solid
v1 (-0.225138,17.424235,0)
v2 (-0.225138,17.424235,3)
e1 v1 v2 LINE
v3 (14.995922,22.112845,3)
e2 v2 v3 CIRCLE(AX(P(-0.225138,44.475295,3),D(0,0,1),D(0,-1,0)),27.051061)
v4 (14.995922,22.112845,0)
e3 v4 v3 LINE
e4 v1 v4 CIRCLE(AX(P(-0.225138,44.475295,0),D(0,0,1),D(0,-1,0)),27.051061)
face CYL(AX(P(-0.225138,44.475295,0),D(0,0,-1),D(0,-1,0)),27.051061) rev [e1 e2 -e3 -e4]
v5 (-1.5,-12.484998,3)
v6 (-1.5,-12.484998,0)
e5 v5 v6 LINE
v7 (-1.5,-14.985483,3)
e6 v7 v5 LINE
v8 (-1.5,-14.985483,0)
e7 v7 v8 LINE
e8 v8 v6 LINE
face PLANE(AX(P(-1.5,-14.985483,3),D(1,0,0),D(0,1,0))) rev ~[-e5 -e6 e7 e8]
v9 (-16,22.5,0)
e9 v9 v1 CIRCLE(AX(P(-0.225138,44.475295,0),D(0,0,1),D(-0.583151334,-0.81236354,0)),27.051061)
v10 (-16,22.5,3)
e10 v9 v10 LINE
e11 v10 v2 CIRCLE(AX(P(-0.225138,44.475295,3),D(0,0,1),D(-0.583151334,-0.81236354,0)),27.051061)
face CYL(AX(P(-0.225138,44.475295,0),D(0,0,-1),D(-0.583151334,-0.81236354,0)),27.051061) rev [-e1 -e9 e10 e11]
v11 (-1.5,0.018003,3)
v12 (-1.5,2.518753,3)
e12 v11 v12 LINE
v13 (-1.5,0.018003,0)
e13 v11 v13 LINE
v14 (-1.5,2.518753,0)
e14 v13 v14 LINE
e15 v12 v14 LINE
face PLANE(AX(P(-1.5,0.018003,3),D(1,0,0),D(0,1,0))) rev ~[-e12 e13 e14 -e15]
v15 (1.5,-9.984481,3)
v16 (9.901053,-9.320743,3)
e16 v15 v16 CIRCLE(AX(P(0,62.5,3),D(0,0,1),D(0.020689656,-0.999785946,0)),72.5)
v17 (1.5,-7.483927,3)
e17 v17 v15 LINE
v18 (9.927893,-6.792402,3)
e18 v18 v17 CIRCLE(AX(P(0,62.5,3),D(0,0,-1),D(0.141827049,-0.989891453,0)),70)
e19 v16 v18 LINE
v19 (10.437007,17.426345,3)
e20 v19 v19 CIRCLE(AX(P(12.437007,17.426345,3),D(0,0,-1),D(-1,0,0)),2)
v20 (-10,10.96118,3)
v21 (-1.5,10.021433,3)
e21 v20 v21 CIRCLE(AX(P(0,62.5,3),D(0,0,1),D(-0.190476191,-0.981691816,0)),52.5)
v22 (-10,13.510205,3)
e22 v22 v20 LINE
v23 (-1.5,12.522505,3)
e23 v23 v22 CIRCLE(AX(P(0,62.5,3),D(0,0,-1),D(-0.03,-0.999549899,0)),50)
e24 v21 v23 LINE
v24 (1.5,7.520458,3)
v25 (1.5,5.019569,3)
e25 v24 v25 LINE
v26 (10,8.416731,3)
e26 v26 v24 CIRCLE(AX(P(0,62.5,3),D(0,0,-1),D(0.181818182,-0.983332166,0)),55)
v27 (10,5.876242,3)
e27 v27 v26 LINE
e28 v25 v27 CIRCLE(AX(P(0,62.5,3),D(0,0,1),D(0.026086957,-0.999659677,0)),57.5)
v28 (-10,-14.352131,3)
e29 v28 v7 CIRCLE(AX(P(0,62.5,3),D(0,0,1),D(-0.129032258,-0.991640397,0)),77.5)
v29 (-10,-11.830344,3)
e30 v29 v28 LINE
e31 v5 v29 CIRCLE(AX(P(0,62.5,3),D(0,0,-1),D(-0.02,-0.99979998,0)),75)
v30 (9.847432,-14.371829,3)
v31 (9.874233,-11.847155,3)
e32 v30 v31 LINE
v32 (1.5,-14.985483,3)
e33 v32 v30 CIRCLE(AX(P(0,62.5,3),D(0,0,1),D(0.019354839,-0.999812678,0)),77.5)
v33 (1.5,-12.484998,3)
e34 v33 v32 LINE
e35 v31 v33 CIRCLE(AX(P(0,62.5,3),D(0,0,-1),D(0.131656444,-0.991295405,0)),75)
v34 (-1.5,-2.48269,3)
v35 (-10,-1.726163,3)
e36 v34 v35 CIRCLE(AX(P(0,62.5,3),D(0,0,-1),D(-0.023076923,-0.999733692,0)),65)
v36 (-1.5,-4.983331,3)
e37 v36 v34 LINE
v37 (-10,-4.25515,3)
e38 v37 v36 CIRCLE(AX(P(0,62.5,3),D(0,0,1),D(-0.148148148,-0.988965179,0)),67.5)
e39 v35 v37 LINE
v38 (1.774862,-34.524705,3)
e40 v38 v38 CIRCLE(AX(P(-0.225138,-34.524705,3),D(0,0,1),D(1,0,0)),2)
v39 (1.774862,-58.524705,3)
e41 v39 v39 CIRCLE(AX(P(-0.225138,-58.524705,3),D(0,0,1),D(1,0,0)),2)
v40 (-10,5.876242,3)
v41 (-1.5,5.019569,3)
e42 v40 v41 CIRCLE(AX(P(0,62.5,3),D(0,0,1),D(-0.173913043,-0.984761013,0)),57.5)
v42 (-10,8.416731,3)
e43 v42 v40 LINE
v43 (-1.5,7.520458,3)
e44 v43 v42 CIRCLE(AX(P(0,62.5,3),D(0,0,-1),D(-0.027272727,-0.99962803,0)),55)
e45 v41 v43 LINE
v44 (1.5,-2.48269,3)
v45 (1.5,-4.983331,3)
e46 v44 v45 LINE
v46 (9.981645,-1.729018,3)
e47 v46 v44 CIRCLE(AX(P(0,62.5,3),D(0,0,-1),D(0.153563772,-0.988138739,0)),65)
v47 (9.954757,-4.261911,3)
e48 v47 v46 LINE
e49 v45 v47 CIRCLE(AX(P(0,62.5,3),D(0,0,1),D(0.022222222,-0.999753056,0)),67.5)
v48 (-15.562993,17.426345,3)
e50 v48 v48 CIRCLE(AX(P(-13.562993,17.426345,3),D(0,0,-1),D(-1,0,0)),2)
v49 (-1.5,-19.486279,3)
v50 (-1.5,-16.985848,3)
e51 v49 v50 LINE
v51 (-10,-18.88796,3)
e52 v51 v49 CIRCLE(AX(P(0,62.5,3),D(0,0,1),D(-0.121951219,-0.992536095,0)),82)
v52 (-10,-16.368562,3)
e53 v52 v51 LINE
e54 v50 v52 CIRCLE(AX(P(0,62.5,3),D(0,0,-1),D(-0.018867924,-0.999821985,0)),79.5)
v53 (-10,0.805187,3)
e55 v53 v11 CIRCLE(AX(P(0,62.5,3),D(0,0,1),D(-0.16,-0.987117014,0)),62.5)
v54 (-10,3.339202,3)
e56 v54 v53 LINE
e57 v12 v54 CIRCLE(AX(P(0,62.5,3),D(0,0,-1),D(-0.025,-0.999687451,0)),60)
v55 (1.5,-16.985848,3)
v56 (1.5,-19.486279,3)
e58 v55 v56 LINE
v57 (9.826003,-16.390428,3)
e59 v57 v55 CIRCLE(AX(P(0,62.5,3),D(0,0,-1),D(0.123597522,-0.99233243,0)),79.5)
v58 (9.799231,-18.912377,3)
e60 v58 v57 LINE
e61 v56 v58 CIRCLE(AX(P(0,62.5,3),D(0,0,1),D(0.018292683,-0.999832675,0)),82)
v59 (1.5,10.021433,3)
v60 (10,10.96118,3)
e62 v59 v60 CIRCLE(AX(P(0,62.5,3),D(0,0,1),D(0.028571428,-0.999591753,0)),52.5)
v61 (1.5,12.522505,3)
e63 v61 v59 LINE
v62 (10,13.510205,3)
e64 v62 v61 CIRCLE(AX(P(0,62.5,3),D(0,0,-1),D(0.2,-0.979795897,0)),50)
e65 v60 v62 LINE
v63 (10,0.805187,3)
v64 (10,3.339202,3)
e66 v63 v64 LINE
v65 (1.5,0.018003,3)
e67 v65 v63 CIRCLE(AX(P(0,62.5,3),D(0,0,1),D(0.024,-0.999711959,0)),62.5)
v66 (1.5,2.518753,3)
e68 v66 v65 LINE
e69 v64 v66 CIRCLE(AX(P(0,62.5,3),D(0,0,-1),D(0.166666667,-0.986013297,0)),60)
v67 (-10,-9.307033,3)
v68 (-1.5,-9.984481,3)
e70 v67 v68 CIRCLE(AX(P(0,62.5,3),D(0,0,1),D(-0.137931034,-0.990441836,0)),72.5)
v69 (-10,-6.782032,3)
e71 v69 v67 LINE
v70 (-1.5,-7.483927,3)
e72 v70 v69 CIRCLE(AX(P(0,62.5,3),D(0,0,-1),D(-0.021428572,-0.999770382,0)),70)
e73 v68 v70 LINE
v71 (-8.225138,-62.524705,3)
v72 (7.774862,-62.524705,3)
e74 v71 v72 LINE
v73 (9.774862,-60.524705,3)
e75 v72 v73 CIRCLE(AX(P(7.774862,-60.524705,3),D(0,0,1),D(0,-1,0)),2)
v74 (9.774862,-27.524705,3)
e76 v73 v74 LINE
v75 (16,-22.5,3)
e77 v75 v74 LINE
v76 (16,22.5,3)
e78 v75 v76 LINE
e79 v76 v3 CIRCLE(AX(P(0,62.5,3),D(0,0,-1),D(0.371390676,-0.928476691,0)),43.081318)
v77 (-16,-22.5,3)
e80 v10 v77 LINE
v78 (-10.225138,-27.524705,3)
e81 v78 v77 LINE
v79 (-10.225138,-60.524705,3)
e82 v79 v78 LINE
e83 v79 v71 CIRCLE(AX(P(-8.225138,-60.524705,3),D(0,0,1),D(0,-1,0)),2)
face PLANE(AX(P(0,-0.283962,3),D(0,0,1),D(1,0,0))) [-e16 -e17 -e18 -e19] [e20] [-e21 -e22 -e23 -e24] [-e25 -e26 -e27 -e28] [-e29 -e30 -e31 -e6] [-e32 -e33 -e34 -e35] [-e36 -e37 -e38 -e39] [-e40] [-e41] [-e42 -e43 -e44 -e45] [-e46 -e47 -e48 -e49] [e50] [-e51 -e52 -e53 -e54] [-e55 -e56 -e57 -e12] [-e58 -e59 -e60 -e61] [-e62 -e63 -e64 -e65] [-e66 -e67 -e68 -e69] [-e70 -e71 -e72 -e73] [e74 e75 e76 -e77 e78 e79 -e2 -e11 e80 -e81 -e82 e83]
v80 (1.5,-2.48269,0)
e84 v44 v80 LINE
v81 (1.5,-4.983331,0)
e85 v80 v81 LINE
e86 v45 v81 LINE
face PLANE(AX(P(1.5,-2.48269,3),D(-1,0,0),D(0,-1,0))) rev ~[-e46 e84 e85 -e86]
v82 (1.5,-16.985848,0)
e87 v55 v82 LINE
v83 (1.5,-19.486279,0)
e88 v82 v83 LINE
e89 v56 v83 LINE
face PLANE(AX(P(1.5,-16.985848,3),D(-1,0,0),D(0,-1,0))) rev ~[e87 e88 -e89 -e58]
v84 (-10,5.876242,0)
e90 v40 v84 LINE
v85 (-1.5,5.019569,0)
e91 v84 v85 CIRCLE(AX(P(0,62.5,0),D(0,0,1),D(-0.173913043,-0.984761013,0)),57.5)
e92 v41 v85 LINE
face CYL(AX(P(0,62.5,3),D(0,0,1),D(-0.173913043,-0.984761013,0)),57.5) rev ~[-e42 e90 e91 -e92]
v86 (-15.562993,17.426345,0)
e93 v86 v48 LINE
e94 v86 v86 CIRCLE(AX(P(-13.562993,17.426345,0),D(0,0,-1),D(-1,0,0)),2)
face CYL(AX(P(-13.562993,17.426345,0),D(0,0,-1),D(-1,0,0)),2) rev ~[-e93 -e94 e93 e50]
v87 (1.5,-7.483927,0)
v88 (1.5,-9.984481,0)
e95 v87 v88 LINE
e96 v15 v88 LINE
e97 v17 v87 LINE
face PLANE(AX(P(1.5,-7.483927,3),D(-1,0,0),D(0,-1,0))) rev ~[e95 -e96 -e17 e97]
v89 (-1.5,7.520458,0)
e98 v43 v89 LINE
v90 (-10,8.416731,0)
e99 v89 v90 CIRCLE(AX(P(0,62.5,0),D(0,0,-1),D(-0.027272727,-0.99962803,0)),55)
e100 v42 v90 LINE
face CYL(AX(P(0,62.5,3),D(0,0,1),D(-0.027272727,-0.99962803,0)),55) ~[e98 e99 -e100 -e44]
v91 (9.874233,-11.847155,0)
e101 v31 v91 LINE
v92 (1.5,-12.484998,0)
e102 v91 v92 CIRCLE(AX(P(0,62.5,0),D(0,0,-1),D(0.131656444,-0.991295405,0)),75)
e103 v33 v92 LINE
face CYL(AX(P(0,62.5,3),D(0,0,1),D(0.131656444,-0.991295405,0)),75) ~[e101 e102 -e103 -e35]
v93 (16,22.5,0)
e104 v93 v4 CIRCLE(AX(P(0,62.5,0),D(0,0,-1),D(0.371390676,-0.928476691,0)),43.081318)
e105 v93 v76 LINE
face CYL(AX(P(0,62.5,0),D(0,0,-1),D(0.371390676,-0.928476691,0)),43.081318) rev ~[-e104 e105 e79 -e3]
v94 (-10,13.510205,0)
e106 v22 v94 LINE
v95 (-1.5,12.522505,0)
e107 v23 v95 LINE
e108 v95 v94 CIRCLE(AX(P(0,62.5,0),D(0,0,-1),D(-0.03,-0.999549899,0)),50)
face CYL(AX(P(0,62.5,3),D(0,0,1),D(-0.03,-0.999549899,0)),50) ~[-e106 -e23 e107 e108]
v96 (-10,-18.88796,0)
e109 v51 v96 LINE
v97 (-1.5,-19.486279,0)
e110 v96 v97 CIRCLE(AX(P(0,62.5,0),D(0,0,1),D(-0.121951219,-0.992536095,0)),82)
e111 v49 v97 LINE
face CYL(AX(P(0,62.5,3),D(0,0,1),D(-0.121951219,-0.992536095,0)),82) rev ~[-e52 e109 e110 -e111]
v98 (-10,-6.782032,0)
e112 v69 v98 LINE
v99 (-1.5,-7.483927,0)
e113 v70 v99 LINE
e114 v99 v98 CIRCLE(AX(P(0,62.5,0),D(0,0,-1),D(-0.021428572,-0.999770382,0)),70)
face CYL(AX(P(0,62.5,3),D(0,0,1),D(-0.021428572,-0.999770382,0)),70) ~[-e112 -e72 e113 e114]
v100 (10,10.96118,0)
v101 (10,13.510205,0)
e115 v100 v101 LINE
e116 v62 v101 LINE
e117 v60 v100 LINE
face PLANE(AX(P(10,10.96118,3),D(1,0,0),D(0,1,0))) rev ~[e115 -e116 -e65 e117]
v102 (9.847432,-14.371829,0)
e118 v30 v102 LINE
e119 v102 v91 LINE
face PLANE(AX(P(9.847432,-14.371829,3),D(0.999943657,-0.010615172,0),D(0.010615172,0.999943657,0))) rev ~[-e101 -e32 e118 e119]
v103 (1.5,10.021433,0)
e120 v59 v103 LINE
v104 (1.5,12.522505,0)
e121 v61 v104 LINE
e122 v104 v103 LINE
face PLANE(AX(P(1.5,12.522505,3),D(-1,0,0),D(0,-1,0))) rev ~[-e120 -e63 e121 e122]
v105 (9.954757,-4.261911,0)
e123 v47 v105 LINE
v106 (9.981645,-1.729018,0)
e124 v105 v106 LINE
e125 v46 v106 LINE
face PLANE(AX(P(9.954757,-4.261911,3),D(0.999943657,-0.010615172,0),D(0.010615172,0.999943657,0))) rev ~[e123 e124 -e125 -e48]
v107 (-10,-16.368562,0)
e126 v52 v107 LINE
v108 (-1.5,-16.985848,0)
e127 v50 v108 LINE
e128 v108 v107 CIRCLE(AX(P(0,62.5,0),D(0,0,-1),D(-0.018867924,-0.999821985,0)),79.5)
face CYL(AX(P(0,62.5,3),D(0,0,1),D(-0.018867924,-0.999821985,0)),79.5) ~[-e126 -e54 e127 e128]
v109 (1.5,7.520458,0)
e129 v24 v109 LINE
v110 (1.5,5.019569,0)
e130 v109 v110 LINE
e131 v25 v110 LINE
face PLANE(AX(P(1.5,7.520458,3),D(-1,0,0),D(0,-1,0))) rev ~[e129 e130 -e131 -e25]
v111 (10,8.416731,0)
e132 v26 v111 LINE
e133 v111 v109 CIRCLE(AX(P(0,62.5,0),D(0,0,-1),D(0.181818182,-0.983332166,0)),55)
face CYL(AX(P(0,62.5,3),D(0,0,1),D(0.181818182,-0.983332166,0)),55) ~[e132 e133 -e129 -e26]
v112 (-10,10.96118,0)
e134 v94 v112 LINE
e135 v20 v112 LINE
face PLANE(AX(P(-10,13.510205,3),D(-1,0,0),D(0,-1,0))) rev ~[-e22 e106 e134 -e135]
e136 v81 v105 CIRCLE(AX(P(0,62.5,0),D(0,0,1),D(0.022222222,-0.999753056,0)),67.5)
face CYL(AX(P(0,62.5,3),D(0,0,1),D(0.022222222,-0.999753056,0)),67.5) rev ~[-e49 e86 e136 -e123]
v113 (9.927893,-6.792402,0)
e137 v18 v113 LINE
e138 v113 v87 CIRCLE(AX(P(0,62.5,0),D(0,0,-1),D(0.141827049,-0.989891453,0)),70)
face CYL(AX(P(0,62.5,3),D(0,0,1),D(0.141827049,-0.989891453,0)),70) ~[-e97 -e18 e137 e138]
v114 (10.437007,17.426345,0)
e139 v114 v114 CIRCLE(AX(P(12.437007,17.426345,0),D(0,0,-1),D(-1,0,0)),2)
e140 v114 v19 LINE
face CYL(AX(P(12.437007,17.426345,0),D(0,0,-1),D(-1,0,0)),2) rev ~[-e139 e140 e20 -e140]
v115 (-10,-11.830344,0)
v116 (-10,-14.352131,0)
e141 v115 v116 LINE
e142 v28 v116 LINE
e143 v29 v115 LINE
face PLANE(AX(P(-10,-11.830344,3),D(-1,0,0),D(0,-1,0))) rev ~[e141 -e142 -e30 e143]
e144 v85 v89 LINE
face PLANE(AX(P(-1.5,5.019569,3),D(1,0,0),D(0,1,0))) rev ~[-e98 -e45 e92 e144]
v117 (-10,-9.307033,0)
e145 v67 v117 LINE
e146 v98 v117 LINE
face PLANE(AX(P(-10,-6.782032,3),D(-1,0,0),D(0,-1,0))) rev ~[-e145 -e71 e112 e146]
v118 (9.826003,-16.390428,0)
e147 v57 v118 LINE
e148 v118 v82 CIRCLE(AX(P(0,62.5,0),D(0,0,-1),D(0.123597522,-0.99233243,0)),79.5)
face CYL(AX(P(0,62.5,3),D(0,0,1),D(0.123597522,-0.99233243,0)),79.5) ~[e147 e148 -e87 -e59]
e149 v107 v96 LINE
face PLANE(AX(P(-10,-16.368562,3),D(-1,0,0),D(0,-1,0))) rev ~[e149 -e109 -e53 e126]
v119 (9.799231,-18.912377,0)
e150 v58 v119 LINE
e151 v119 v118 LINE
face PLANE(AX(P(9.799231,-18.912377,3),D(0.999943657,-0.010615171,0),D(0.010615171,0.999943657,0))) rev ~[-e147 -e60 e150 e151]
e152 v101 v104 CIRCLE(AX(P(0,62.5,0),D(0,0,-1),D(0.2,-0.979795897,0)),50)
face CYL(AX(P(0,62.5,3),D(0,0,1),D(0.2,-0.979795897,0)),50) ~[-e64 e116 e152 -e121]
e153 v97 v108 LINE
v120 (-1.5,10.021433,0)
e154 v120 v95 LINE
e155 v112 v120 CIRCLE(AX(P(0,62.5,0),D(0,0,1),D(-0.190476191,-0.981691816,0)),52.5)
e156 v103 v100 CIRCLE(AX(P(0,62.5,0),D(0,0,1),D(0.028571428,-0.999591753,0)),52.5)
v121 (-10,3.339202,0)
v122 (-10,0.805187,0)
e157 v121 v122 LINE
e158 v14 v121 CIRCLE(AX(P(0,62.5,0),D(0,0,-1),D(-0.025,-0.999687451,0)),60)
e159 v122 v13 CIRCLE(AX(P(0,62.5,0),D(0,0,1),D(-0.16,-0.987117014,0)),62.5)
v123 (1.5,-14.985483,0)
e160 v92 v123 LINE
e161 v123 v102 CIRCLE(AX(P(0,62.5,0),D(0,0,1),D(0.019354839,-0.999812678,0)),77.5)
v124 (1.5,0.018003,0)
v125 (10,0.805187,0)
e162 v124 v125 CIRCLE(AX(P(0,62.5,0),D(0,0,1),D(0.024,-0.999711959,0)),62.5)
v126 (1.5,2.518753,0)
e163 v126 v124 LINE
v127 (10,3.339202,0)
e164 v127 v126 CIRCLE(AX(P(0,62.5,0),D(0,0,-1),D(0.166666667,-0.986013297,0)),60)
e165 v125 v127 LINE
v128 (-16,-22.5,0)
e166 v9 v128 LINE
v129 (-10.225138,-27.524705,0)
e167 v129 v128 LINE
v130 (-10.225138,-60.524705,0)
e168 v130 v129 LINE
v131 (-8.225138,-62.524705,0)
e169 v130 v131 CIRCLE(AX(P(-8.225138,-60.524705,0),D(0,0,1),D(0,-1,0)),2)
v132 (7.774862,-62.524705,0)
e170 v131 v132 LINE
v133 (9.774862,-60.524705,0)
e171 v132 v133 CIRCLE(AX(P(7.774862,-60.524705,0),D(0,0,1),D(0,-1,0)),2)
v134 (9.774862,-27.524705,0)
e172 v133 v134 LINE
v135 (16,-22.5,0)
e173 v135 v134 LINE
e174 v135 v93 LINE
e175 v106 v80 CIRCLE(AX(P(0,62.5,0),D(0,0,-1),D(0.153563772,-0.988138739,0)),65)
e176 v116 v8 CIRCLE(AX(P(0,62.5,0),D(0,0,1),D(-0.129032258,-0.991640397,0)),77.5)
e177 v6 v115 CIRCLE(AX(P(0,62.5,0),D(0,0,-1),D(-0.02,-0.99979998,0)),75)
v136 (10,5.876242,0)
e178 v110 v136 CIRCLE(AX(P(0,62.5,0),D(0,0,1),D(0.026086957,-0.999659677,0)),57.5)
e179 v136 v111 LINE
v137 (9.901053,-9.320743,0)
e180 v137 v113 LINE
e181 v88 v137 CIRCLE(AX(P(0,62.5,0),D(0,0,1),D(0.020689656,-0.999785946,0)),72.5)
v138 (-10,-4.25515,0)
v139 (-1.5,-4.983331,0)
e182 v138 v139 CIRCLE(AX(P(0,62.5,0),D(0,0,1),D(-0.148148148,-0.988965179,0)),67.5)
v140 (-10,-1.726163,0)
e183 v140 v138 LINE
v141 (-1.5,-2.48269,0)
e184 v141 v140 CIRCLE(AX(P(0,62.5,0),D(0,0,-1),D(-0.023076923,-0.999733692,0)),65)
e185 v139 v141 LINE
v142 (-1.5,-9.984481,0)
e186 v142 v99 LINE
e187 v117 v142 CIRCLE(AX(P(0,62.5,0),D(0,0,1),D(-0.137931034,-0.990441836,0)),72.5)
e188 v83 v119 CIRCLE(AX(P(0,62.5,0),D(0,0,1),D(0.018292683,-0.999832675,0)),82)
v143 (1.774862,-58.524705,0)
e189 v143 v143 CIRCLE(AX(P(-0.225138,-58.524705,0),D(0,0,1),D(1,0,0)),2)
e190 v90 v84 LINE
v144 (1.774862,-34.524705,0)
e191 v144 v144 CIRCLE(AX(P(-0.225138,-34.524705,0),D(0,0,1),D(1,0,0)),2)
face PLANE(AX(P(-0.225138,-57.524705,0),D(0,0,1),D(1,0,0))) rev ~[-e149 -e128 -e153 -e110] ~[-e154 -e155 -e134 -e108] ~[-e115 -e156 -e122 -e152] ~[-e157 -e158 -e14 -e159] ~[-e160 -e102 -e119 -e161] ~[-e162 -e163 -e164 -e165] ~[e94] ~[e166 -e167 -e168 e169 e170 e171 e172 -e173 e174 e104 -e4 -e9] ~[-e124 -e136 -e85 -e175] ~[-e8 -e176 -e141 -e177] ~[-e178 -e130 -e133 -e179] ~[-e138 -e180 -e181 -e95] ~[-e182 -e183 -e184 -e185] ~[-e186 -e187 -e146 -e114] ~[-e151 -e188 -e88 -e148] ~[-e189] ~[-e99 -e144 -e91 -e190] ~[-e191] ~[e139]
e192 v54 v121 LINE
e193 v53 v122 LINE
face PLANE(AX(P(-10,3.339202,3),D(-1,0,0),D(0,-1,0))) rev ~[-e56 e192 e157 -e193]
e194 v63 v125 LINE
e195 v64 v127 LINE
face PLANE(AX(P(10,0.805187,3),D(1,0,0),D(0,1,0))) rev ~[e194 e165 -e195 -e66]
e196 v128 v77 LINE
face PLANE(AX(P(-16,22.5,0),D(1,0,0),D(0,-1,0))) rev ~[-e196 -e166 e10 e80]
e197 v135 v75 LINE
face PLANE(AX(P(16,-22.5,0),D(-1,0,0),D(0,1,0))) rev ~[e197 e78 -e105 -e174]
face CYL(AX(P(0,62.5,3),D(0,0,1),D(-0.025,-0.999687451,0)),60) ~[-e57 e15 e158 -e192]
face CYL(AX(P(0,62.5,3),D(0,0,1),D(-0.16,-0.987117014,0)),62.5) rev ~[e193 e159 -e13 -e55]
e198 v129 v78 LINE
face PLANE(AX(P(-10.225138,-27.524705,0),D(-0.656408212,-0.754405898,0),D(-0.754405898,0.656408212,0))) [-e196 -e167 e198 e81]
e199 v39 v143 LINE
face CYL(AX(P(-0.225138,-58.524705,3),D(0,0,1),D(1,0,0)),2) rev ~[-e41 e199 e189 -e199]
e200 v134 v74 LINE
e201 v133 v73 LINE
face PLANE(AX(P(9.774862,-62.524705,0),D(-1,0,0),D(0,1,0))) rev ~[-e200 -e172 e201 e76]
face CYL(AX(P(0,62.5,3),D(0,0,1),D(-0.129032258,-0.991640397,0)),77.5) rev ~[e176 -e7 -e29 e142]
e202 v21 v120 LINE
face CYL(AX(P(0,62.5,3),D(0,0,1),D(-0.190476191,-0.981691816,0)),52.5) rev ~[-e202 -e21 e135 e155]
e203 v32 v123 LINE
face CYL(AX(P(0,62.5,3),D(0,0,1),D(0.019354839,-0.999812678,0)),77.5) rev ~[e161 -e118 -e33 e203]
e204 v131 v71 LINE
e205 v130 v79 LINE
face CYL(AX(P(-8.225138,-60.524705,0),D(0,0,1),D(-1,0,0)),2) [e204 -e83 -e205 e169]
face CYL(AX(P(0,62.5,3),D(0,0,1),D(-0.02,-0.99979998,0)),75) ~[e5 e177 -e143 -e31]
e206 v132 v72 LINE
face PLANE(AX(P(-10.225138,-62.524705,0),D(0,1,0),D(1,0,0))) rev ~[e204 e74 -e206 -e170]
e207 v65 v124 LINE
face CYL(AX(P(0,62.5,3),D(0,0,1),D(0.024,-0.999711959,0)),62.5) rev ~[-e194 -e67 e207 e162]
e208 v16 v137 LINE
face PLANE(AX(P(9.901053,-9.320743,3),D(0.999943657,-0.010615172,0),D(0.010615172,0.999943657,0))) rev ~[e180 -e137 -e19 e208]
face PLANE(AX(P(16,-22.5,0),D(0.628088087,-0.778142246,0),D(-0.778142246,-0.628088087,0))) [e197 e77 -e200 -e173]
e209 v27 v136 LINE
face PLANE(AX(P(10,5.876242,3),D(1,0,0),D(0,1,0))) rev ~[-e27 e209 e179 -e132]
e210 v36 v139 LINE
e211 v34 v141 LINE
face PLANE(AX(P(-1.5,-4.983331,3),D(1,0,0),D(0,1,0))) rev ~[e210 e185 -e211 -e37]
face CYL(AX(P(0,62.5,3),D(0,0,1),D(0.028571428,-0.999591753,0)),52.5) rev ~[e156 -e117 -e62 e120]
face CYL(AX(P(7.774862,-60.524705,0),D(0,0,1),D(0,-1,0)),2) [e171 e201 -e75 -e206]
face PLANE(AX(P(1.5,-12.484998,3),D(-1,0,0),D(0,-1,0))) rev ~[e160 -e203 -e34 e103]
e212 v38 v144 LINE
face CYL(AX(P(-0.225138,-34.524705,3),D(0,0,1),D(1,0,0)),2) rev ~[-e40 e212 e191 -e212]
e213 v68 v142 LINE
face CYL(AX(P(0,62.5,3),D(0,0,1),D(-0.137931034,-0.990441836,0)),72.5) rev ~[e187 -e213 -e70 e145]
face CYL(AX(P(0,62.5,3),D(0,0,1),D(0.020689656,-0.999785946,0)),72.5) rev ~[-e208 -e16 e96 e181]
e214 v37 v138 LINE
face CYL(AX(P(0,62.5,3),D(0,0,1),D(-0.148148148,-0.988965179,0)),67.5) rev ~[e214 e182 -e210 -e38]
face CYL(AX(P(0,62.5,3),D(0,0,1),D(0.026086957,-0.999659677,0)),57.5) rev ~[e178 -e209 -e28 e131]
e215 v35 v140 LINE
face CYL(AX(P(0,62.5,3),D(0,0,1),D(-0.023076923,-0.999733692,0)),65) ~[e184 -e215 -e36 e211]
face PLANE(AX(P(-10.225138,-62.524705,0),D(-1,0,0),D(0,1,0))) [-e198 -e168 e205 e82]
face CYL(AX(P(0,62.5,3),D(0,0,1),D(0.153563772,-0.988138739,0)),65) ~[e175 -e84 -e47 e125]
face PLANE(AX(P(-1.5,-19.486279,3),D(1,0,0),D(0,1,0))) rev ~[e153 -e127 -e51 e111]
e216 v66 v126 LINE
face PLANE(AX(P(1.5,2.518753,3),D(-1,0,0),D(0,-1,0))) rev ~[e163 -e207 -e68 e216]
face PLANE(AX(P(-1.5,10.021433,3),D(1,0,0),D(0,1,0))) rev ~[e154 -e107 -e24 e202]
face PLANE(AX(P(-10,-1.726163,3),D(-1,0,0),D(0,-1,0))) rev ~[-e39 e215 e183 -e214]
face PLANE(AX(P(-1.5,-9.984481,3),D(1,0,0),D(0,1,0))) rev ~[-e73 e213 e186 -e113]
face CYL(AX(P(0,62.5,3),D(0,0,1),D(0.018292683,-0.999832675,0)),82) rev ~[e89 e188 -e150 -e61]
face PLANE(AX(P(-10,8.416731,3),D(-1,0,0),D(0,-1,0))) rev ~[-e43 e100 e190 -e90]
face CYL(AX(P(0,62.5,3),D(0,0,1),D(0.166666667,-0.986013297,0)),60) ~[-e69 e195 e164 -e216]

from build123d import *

# Parameters (mm, degrees)
SKETCH1_W                    = 20
SKETCH1_H                    = 35
BOSS_EXTRUDE1_DEPTH          = 3
FILLET5_R                    = 2
F_97_0_0059_DIAMETER_HOLE2_D = 3.000000096
F_97_0_0059_DIAMETER_HOLE4_D = 3.000000096
F_97_0_0059_DIAMETER_HOLE6_D = 3.000000096
F_97_0_0059_DIAMETER_HOLE7_D = 3.000000096
CUT_EXTRUDE1_DEPTH           = 3
BOSS_EXTRUDE3_START          = -3
SKETCH17_R                   = 1.500000048
BOSS_EXTRUDE3_DEPTH          = 3
CUT_EXTRUDE3_START           = -3
CUT_EXTRUDE3_DEPTH           = 3
SKETCH19_R                   = 2
CUT_EXTRUDE4_DEPTH           = 10
SKETCH20_R                   = 2
CUT_EXTRUDE6_DEPTH           = 10


with BuildPart() as part:
    # Sketch1 → Boss-Extrude1 (new body)
    with BuildSketch(Plane.XY):
        with BuildLine():
            Line((-16, 22.5), (-16, -22.5))
            Line((-16, -22.5), (16, -22.5))
            Line((16, -22.5), (16, 22.5))
            ThreePointArc((16, 22.5), (0, 19.418681543), (-16, 22.5))
        make_face()
        with Locations((-0.22513797, -45.024704694)):
            Rectangle(SKETCH1_W, SKETCH1_H)
        Polygon((9.77486203, -27.524704694), (-10.22513797, -27.524704694), (-16, -22.5), (16, -22.5), align=None)
    extrude(amount=BOSS_EXTRUDE1_DEPTH)

    # Fillet5
    fillet5_edges = [part.edges().sort_by_distance(p)[0] for p in [
        (9.77486203, -62.524704694, 1.5),
        (-10.22513797, -62.524704694, 1.5),
    ]]
    fillet(fillet5_edges, radius=FILLET5_R)

    # #97 (0.0059) Diameter Hole2 (through all)
    with Locations(Plane(origin=(-0.22513797, -57.524704694, 3), x_dir=(1, 0, 0), z_dir=(0, 0, 1))):
        with Locations((0, 0)):
            Hole(F_97_0_0059_DIAMETER_HOLE2_D / 2)

    # #97 (0.0059) Diameter Hole4 (through all)
    with Locations(Plane(origin=(-0.22513797, -32.524704694, 3), x_dir=(1, 0, 0), z_dir=(0, 0, 1))):
        with Locations((0, 0)):
            Hole(F_97_0_0059_DIAMETER_HOLE4_D / 2)

    # #97 (0.0059) Diameter Hole6 (through all)
    with Locations(Plane(origin=(-13.971666748, 19.647656364, 3), x_dir=(1, 0, 0), z_dir=(0, 0, 1))):
        with Locations((0, 0)):
            Hole(F_97_0_0059_DIAMETER_HOLE6_D / 2)

    # #97 (0.0059) Diameter Hole7 (through all)
    with Locations(Plane(origin=(13.932427901, 19.6445071, 3), x_dir=(1, 0, 0), z_dir=(0, 0, 1))):
        with Locations((0, 0)):
            Hole(F_97_0_0059_DIAMETER_HOLE7_D / 2)

    # Sketch15 → Cut-Extrude1 (cut)
    with BuildSketch(Plane.XY.offset(3)):
        with BuildLine():
            ThreePointArc((10, 13.510205144), (5.771168674, 12.834180646), (1.5, 12.522505065))
            Line((1.5, 12.522505065), (1.5, 10.021432946))
            ThreePointArc((1.5, 10.021432946), (5.769166403, 10.317946389), (10, 10.96117968))
            Line((10, 10.96117968), (10, 13.510205144))
        make_face()
        with BuildLine():
            Line((-1.5, 10.021432946), (-1.5, 12.522505065))
            ThreePointArc((-1.5, 12.522505065), (-5.771168674, 12.834180646), (-10, 13.510205144))
            Line((-10, 13.510205144), (-10, 10.96117968))
            ThreePointArc((-10, 10.96117968), (-5.769166403, 10.317946389), (-1.5, 10.021432946))
        make_face()
        with BuildLine():
            Line((-1.5, 5.019568547), (-1.5, 7.52045835))
            ThreePointArc((-1.5, 7.52045835), (-5.767436702, 7.803229767), (-10, 8.416730868))
            Line((-10, 8.416730868), (-10, 5.876241735))
            ThreePointArc((-10, 5.876241735), (-5.765932035, 5.289825837), (-1.5, 5.019568547))
        make_face()
        with BuildLine():
            ThreePointArc((10, 8.416730868), (5.767436702, 7.803229767), (1.5, 7.52045835))
            Line((1.5, 7.52045835), (1.5, 5.019568547))
            ThreePointArc((1.5, 5.019568547), (5.765932035, 5.289825837), (10, 5.876241735))
            Line((10, 5.876241735), (10, 8.416730868))
        make_face()
        with BuildLine():
            Line((-1.5, 0.018002593), (-1.5, 2.518752931))
            ThreePointArc((-1.5, 2.518752931), (-5.764614839, 2.777565222), (-10, 3.339202169))
            Line((-10, 3.339202169), (-10, 0.805186604))
            ThreePointArc((-10, 0.805186604), (-5.763455098, 0.266306671), (-1.5, 0.018002593))
        make_face()
        with BuildLine():
            ThreePointArc((10, 3.339202169), (5.764614839, 2.777565222), (1.5, 2.518752931))
            Line((1.5, 2.518752931), (1.5, 0.018002593))
            ThreePointArc((1.5, 0.018002593), (5.763455098, 0.266306671), (10, 0.805186604))
            Line((10, 0.805186604), (10, 3.339202169))
        make_face()
        with BuildLine():
            Line((-1.5, -4.983331275), (-1.5, -2.482690003))
            ThreePointArc((-1.5, -2.482690003), (-5.762428595, -2.244068583), (-10, -1.726162893))
            Line((-10, -1.726162893), (-10, -4.255149614))
            ThreePointArc((-10, -4.255149614), (-5.761515611, -4.753661148), (-1.5, -4.983331275))
        make_face()
        with BuildLine():
            ThreePointArc((9.981645143, -1.729018054), (5.753177309, -2.244891311), (1.5, -2.482690003))
            Line((1.5, -2.482690003), (1.5, -4.983331275))
            ThreePointArc((1.5, -4.983331275), (5.738725767, -4.755609629), (9.95475653, -4.261911465))
            Line((9.95475653, -4.261911465), (9.981645143, -1.729018054))
        make_face()
        with BuildLine():
            Line((-1.5, -9.984481098), (-1.5, -7.483926726))
            ThreePointArc((-1.5, -7.483926726), (-5.760699953, -7.262556834), (-10, -6.782032303))
            Line((-10, -6.782032303), (-10, -9.307033082))
            ThreePointArc((-10, -9.307033082), (-5.759968225, -9.770829288), (-1.5, -9.984481098))
        make_face()
        with BuildLine():
            ThreePointArc((9.927893429, -6.792401691), (5.724398551, -7.265544943), (1.5, -7.483926726))
            Line((1.5, -7.483926726), (1.5, -9.984481098))
            ThreePointArc((1.5, -9.984481098), (5.710178647, -9.774780247), (9.901053138, -9.320743151))
            Line((9.901053138, -9.320743151), (9.927893429, -6.792401691))
        make_face()
        with BuildLine():
            Line((-1.5, -14.985482511), (-1.5, -12.4849985))
            ThreePointArc((-1.5, -12.4849985), (-5.759309265, -12.278542088), (-10, -11.830343737))
            Line((-10, -11.830343737), (-10, -14.352130745))
            ThreePointArc((-10, -14.352130745), (-5.758713712, -14.78575041), (-1.5, -14.985482511))
        make_face()
        with BuildLine():
            Line((-1.5, -19.48627934), (-1.5, -16.985847797))
            ThreePointArc((-1.5, -16.985847797), (-5.758277571, -16.791186392), (-10, -16.368561544))
            Line((-10, -16.368561544), (-10, -18.887959798))
            ThreePointArc((-10, -18.887959798), (-5.757777051, -19.297603898), (-1.5, -19.48627934))
        make_face()
        with BuildLine():
            ThreePointArc((9.82600299, -16.390428223), (5.67082155, -16.797489134), (1.5, -16.985847797))
            Line((1.5, -16.985847797), (1.5, -19.48627934))
            ThreePointArc((1.5, -19.48627934), (5.656897905, -19.304642326), (9.799230566, -18.912376702))
            Line((9.799230566, -18.912376702), (9.82600299, -16.390428223))
        make_face()
        with BuildLine():
            ThreePointArc((9.874233328, -11.847155401), (5.69605187, -12.283387146), (1.5, -12.4849985))
            Line((1.5, -12.4849985), (1.5, -14.985482511))
            ThreePointArc((1.5, -14.985482511), (5.682006317, -14.791427754), (9.847431975, -14.371828933))
            Line((9.847431975, -14.371828933), (9.874233328, -11.847155401))
        make_face()
    extrude(amount=-CUT_EXTRUDE1_DEPTH, mode=Mode.SUBTRACT)

    # Sketch17 → Boss-Extrude3 (add)
    with BuildSketch(Plane.XY.offset(3).offset(BOSS_EXTRUDE3_START)):
        with Locations((-0.22513797, -57.524704694)):
            Circle(SKETCH17_R)
        with Locations((-0.22513797, -32.524704694)):
            Circle(SKETCH17_R)
        with Locations((-13.971666748, 19.647656364)):
            Circle(SKETCH17_R)
        with Locations((13.932427901, 19.6445071)):
            Circle(SKETCH17_R)
    extrude(amount=BOSS_EXTRUDE3_DEPTH)

    # Sketch18 → Cut-Extrude3 (cut)
    with BuildSketch(Plane.XY.offset(3).offset(CUT_EXTRUDE3_START)):
        with BuildLine():
            ThreePointArc((-16, 22.5), (-8.51081333, 18.724422317), (-0.22513797, 17.424234775))
            Line((-0.22513797, 17.424234775), (-0.22513797, 19.419269819))
            ThreePointArc((-0.22513797, 19.419269819), (-8.257511741, 20.217456322), (-16, 22.5))
        make_face()
        with BuildLine():
            Line((-0.22513797, 19.419269819), (-0.22513797, 17.424234775))
            ThreePointArc((-0.22513797, 17.424234775), (7.738274372, 18.622946482), (14.995922473, 22.11284475))
            ThreePointArc((14.995922473, 22.11284475), (7.507186902, 20.077810702), (-0.22513797, 19.419269819))
        make_face()
    extrude(amount=CUT_EXTRUDE3_DEPTH, mode=Mode.SUBTRACT)

    # Sketch19 → Cut-Extrude4 (cut)
    with BuildSketch(Plane.XY.offset(3)):
        with Locations((-0.22513797, -34.524704694)):
            Circle(SKETCH19_R)
        with Locations((-0.22513797, -58.524704694)):
            Circle(SKETCH19_R)
    extrude(amount=-CUT_EXTRUDE4_DEPTH, mode=Mode.SUBTRACT)

    # Sketch20 → Cut-Extrude6 (cut)
    with BuildSketch(Plane(origin=(0, 0, 0), x_dir=(-1, 0, 0), z_dir=(0, 0, -1))):
        with Locations((13.562993481, 17.426344688)):
            Circle(SKETCH20_R)
        with Locations((-12.437006519, 17.426344688)):
            Circle(SKETCH20_R)
    extrude(amount=-CUT_EXTRUDE6_DEPTH, mode=Mode.SUBTRACT)


solid = part.part
